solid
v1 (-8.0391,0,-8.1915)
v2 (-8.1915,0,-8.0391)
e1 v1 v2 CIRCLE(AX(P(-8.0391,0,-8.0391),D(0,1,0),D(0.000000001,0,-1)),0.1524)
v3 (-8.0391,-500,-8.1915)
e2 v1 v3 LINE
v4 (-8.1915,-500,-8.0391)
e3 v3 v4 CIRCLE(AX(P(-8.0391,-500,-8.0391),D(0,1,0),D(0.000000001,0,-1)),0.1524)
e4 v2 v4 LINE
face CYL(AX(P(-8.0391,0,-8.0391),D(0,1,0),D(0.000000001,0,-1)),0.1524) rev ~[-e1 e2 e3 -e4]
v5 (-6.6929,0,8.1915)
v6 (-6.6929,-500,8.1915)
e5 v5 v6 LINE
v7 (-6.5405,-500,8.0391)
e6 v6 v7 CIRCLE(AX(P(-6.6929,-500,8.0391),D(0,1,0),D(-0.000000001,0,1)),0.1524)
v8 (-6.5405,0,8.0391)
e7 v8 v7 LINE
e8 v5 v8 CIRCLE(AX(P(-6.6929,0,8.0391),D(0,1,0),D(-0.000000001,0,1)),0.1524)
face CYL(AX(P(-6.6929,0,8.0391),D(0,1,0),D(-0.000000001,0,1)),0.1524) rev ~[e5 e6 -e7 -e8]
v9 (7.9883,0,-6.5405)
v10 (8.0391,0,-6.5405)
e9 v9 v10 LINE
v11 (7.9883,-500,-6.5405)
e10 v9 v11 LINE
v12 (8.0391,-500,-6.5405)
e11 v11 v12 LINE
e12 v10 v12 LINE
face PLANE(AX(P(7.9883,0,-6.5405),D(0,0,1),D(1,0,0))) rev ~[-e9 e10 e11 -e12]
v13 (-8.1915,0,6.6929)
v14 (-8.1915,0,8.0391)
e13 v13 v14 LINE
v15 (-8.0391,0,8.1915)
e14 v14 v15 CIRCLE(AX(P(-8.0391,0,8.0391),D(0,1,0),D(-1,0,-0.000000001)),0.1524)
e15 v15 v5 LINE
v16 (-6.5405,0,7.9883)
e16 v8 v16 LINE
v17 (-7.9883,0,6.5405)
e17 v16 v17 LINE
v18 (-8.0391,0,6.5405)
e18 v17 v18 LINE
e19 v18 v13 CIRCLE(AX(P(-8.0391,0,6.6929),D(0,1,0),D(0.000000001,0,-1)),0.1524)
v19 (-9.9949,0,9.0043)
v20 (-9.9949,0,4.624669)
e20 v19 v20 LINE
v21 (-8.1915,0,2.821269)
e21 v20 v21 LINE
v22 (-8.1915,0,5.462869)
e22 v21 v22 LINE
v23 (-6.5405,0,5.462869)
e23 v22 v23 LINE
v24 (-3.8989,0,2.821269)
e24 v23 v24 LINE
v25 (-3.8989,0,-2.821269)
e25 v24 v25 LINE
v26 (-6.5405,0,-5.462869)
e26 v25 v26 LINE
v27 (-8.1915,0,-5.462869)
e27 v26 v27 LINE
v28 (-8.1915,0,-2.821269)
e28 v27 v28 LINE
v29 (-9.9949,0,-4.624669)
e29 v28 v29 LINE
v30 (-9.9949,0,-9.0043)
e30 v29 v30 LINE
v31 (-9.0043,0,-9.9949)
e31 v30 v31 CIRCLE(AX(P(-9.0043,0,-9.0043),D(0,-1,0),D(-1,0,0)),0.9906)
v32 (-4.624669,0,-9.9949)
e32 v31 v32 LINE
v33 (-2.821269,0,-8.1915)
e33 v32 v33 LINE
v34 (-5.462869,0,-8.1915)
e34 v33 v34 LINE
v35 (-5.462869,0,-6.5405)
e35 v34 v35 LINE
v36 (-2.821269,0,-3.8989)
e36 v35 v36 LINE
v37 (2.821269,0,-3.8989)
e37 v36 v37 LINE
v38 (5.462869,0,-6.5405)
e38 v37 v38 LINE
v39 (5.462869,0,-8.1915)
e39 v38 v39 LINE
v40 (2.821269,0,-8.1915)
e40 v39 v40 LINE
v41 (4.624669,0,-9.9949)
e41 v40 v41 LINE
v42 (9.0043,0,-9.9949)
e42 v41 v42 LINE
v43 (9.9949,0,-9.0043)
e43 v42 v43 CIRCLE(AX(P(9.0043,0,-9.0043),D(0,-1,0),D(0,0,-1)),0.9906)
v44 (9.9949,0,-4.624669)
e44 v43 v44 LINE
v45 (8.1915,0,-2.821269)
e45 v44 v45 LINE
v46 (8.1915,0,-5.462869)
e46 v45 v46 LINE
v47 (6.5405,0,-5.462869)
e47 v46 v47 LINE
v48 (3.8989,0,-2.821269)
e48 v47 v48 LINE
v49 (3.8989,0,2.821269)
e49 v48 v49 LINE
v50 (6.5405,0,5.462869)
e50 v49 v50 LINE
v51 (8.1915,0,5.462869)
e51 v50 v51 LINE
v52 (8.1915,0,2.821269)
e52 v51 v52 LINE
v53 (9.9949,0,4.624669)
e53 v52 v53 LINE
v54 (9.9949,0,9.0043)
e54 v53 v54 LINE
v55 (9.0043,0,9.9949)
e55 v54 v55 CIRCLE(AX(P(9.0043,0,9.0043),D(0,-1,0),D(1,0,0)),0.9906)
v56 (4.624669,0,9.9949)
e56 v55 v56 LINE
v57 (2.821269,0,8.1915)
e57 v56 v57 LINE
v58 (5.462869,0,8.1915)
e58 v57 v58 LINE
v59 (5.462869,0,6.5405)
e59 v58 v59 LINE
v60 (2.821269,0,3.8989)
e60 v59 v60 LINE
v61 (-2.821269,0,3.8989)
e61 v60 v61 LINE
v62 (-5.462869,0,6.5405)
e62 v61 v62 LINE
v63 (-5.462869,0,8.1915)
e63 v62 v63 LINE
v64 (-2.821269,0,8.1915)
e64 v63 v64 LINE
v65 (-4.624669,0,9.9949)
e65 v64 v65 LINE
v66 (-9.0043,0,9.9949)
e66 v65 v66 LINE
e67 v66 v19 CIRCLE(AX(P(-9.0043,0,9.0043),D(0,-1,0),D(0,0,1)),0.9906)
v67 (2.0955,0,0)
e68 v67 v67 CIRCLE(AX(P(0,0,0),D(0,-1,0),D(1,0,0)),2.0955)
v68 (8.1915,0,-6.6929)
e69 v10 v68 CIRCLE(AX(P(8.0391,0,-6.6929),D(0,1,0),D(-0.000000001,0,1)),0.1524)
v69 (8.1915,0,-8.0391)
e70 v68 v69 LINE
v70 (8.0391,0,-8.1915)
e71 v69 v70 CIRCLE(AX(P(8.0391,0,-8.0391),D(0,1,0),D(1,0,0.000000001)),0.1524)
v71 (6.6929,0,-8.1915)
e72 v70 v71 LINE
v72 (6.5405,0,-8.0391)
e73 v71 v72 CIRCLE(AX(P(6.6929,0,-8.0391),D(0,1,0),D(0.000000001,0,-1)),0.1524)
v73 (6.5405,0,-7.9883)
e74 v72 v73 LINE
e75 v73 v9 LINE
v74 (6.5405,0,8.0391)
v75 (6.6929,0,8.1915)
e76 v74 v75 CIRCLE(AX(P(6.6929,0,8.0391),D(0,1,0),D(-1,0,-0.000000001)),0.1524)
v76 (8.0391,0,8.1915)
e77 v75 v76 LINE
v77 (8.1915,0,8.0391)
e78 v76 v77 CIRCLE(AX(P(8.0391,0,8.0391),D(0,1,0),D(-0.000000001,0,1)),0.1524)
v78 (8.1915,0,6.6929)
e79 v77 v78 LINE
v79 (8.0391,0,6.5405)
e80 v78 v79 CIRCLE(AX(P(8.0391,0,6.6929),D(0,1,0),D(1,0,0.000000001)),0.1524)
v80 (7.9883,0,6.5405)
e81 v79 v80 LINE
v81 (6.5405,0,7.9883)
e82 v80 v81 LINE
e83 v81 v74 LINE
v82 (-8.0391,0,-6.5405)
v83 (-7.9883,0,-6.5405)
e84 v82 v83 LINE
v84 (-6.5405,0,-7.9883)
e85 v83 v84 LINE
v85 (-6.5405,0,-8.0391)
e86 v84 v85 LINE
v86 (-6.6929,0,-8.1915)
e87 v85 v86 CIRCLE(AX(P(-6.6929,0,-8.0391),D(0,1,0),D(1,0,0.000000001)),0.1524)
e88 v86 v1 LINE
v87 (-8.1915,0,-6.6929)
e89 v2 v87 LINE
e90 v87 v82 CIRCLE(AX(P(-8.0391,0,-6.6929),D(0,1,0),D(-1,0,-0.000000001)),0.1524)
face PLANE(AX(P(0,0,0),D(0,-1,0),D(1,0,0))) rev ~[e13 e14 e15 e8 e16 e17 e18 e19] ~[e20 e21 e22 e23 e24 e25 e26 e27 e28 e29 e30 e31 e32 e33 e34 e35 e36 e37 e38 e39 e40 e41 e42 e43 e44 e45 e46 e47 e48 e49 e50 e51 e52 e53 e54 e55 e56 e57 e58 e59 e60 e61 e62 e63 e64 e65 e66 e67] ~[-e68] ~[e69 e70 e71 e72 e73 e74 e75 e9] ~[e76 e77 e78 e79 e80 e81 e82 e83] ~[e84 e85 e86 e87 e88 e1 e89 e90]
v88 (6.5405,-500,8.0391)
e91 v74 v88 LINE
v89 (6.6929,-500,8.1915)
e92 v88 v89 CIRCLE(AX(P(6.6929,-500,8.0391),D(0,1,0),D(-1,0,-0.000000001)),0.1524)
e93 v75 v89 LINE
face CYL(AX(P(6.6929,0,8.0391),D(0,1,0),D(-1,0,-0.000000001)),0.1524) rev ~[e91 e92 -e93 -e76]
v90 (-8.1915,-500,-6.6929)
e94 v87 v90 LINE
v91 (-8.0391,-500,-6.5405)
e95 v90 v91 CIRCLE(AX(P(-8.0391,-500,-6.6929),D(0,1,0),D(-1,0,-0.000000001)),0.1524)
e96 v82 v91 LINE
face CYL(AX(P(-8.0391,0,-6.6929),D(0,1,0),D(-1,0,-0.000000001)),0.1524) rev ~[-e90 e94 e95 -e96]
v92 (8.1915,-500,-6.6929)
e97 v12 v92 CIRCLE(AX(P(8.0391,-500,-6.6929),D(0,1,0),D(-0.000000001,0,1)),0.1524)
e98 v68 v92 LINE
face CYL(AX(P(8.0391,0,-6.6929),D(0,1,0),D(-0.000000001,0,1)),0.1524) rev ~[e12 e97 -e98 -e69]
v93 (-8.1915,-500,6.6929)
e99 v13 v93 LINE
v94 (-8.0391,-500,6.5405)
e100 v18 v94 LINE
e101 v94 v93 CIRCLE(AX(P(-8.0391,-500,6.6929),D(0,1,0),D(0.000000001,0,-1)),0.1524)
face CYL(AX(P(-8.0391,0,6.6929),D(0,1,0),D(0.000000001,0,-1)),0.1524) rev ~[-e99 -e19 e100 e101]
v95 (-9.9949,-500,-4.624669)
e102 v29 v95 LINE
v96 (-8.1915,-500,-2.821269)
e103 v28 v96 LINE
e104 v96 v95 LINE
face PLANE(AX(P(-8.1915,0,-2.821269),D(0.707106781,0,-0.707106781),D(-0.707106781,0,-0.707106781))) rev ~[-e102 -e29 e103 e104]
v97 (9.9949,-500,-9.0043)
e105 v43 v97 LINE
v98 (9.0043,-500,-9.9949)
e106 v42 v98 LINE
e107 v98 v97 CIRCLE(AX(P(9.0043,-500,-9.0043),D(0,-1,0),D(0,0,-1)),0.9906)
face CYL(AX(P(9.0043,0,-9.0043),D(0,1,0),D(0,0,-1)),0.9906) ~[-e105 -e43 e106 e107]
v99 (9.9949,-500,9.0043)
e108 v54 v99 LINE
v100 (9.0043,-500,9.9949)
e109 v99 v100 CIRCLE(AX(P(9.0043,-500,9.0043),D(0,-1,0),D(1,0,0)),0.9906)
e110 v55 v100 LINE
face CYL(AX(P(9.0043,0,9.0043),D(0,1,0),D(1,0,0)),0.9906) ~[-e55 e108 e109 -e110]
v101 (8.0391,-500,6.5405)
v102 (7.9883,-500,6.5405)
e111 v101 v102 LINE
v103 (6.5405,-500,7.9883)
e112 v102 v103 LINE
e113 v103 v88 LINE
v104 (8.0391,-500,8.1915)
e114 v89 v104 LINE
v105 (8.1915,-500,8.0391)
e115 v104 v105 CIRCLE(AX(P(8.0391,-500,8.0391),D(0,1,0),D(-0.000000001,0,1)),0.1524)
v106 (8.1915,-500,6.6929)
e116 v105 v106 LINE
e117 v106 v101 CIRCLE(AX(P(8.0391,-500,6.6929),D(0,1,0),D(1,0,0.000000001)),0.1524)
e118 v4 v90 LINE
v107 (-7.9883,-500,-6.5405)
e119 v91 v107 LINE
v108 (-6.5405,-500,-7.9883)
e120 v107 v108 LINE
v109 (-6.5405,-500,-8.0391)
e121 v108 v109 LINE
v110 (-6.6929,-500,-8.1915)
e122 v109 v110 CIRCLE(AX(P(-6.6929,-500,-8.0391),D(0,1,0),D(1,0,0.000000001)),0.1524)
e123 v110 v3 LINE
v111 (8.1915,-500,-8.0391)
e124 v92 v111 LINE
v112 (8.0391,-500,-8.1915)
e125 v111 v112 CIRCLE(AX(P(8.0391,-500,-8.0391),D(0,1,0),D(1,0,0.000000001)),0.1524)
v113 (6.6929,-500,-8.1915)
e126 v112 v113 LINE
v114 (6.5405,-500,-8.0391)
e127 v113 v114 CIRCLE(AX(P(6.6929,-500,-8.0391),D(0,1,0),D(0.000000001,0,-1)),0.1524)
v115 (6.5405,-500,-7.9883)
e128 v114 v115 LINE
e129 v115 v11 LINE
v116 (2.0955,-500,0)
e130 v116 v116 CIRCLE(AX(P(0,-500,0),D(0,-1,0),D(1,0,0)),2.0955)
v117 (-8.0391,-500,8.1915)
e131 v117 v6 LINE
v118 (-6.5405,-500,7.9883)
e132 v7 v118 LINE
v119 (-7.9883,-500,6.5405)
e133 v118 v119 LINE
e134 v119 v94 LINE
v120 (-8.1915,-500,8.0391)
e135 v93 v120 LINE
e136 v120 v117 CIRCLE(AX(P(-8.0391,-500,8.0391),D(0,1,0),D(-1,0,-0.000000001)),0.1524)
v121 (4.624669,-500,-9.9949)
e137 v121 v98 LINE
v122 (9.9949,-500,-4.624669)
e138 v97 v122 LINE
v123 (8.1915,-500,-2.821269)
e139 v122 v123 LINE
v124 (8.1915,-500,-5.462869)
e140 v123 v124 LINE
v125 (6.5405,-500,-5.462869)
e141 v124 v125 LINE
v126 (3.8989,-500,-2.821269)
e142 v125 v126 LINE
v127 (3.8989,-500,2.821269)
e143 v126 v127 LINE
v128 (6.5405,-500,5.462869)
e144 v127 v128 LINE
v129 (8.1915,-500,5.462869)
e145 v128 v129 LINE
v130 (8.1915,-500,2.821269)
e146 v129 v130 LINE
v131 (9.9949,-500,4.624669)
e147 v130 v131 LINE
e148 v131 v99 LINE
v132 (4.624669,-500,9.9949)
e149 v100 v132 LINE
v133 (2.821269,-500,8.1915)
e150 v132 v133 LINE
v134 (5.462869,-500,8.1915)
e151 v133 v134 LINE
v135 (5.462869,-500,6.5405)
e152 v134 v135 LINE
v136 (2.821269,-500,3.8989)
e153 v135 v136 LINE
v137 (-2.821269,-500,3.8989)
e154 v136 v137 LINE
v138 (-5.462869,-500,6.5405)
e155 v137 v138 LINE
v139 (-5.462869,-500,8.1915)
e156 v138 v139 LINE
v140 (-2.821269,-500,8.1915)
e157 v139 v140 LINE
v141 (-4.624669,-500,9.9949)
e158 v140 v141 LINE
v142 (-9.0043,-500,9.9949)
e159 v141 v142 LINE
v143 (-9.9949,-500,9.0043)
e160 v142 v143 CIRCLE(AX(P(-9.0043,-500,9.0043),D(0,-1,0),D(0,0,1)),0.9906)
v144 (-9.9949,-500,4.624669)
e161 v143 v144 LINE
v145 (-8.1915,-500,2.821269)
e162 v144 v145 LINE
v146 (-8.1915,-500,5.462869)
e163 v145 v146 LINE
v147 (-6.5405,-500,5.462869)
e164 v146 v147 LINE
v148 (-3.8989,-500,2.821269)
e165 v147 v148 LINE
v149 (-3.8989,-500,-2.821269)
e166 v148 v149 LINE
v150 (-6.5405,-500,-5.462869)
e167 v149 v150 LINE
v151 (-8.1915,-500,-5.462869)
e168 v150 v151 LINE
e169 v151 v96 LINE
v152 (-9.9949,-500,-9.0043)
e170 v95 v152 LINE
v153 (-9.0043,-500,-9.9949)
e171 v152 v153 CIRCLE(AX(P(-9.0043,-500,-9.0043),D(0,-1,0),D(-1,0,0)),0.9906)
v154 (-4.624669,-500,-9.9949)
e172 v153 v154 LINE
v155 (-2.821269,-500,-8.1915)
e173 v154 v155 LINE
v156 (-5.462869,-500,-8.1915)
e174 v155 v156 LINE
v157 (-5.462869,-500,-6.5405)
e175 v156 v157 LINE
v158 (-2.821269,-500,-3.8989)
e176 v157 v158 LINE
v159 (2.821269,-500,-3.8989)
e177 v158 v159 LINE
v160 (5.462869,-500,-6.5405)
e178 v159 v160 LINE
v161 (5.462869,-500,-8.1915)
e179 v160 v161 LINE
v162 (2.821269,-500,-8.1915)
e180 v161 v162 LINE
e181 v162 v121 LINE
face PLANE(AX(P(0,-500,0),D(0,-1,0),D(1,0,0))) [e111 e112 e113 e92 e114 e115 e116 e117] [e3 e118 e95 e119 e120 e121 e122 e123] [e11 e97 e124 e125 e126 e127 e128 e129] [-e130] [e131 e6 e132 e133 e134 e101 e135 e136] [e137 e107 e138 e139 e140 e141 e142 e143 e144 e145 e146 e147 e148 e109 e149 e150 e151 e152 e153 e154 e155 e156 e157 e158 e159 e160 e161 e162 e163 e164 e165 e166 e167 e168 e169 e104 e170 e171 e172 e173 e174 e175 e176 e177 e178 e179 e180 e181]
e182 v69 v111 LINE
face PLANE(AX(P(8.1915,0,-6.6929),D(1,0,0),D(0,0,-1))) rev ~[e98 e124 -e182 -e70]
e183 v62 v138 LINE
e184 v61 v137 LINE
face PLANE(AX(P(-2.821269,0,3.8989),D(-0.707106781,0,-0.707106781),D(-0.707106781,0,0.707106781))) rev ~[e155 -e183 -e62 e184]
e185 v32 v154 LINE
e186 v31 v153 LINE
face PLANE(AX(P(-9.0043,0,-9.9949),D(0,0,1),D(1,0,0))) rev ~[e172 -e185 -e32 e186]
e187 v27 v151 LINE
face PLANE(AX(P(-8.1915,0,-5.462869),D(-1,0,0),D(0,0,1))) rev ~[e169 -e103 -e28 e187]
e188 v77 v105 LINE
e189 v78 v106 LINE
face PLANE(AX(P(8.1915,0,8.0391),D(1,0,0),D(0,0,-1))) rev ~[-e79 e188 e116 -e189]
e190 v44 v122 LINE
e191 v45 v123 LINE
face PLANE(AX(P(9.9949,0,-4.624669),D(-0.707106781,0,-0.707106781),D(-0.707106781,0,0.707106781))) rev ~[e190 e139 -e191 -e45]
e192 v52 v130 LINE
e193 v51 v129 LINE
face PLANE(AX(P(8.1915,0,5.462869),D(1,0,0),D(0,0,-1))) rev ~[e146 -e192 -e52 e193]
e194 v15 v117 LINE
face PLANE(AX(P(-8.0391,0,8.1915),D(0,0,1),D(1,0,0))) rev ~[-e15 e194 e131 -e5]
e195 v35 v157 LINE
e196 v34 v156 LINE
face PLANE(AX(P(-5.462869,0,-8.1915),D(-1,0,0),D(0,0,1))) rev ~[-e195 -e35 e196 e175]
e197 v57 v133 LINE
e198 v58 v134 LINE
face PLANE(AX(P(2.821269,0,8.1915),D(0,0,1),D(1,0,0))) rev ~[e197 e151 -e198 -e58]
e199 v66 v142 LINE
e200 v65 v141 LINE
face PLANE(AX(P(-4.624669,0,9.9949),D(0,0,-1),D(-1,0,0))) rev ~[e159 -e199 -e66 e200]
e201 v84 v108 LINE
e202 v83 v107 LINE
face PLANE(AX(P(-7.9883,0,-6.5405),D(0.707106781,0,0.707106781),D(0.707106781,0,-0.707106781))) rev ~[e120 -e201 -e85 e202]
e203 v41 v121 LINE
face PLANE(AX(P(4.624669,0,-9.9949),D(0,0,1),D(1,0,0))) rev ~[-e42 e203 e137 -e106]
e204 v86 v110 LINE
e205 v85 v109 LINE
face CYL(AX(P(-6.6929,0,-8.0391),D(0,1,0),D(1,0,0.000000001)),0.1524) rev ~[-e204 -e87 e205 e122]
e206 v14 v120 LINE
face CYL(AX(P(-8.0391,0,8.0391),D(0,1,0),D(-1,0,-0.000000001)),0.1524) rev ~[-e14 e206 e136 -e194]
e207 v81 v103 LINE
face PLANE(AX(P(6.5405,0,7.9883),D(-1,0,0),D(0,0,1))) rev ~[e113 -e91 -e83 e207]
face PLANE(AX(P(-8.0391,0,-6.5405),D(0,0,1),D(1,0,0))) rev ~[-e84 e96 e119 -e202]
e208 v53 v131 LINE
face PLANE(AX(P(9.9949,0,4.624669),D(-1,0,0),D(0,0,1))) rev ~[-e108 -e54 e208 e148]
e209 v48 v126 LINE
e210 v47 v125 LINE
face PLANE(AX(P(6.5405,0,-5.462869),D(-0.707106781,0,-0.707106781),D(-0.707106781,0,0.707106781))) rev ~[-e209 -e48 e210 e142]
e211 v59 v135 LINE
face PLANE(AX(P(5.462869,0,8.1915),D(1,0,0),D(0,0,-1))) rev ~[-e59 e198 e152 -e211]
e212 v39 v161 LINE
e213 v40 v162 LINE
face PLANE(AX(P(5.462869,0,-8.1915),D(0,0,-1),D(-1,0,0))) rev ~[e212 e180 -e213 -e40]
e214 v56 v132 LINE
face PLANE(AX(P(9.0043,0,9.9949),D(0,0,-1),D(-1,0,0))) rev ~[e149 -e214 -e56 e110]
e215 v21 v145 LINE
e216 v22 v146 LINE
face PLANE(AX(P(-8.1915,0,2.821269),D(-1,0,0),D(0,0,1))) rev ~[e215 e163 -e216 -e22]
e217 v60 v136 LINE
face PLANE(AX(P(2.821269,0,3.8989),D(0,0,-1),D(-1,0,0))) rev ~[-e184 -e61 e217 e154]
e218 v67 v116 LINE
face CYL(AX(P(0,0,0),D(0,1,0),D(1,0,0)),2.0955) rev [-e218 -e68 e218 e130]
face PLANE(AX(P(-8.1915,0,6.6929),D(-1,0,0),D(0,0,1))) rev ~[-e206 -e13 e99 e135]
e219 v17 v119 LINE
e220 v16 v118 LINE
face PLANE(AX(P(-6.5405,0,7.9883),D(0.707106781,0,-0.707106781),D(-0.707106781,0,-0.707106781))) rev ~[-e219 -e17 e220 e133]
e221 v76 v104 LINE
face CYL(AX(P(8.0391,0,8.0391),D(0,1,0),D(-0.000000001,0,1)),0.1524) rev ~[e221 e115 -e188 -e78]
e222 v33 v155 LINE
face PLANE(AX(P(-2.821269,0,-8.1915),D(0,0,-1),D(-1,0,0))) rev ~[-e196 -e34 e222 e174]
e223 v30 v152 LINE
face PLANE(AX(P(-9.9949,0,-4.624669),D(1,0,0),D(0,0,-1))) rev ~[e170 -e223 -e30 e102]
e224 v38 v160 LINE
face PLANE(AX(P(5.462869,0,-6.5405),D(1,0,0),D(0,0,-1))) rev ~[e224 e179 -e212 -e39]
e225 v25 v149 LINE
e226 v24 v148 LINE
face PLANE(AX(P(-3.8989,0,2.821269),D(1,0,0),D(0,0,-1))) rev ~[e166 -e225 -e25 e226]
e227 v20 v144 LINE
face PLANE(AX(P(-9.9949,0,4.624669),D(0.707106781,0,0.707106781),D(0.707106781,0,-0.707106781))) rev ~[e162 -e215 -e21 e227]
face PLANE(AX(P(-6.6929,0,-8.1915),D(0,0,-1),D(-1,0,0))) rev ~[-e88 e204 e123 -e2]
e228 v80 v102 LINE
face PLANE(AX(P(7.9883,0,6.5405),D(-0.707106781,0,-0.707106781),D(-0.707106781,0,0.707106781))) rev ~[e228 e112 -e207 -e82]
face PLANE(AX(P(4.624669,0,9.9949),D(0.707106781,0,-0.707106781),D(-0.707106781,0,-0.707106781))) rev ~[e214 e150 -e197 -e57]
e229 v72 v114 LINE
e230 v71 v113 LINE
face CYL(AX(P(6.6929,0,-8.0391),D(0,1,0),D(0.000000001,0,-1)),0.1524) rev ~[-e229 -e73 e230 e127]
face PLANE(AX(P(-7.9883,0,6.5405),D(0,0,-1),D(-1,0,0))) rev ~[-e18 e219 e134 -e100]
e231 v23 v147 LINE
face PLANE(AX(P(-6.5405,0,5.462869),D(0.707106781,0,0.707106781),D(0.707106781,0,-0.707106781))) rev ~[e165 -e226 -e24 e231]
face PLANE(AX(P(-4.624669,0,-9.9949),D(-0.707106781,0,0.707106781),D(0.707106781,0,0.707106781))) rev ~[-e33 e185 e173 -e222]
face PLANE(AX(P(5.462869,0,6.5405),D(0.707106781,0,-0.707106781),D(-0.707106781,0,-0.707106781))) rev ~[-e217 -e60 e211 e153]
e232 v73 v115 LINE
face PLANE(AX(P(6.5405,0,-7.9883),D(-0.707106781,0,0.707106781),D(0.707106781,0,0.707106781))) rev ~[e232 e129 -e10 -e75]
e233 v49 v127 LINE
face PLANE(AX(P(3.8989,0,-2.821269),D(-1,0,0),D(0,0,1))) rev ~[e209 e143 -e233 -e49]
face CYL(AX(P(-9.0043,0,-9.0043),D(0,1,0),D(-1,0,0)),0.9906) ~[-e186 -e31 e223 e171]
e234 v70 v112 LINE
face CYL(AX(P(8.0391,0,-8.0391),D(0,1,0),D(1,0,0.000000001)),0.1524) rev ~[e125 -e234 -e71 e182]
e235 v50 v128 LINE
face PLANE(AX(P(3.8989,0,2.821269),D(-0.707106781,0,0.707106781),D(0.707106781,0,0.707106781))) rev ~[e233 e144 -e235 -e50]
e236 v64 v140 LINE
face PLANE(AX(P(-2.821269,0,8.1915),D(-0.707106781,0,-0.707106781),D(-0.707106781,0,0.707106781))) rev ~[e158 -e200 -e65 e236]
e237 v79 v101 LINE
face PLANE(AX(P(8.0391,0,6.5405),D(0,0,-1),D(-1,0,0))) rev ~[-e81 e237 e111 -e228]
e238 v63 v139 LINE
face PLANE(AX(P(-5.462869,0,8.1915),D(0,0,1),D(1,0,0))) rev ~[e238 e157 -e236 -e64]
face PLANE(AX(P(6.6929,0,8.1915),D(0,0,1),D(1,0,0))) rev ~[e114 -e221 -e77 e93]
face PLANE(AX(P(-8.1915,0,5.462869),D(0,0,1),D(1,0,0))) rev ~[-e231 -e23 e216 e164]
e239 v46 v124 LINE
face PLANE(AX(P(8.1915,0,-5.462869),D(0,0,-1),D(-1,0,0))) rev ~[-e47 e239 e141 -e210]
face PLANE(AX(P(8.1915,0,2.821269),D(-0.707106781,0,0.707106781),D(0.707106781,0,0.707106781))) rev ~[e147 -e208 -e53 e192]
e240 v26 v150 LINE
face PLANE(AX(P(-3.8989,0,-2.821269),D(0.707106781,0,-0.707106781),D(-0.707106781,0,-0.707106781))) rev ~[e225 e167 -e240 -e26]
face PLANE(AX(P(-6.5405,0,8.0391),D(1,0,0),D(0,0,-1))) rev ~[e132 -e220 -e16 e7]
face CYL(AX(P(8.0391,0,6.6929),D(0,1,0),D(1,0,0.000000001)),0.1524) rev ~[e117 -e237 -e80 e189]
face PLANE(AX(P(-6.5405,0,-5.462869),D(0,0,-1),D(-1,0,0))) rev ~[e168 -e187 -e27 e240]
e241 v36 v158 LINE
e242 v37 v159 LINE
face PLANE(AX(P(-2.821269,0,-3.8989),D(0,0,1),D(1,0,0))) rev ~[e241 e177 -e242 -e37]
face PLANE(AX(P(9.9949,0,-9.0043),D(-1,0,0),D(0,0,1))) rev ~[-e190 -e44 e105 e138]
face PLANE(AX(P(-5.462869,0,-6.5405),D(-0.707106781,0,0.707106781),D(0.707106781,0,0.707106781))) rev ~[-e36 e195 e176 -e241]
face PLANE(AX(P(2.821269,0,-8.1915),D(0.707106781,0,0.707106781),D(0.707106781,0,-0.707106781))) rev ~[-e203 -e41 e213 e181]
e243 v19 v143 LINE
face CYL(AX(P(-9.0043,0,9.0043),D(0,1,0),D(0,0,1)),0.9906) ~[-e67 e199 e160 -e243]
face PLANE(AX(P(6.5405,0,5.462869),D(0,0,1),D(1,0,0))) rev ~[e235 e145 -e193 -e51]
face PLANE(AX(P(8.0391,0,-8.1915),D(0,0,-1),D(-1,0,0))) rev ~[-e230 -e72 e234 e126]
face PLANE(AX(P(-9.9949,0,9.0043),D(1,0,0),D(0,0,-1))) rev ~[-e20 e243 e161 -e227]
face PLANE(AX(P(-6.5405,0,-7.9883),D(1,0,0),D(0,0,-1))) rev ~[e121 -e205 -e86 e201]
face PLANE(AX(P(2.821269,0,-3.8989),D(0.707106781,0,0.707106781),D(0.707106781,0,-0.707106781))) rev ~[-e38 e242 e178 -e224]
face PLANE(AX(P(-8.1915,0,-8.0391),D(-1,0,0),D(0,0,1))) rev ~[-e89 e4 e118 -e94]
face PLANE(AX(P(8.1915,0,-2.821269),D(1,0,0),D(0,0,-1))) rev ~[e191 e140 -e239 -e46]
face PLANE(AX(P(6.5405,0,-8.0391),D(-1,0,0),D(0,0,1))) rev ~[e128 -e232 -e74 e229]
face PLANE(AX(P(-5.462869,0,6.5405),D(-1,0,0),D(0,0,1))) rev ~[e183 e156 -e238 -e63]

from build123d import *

# Parameters (mm, degrees)
F0_R     = 2.0955
F2_DEPTH = 500


with BuildPart() as f2:
    # F0 (on Front) → F2 (new body)
    with BuildSketch(Plane.XZ):
        with BuildLine():
            Line((-4.6246692655, 9.9949), (-9.0043, 9.9949))
            ThreePointArc((-9.0043, 9.9949), (-9.7047599774, 9.7047599774), (-9.9949, 9.0043))
            Line((-9.9949, 9.0043), (-9.9949, 4.6246692655))
            Line((-9.9949, 4.6246692655), (-8.1915, 2.8212692655))
            Line((-8.1915, 2.8212692655), (-8.1915, 5.4628692655))
            Line((-8.1915, 5.4628692655), (-6.5405, 5.4628692655))
            Line((-6.5405, 5.4628692655), (-3.8989, 2.8212692655))
            Line((-3.8989, 2.8212692655), (-3.8989, -2.8212692655))
            Line((-3.8989, -2.8212692655), (-6.5405, -5.4628692655))
            Line((-6.5405, -5.4628692655), (-8.1915, -5.4628692655))
            Line((-8.1915, -5.4628692655), (-8.1915, -2.8212692655))
            Line((-8.1915, -2.8212692655), (-9.9949, -4.6246692655))
            Line((-9.9949, -4.6246692655), (-9.9949, -9.0043))
            ThreePointArc((-9.9949, -9.0043), (-9.7047599774, -9.7047599774), (-9.0043, -9.9949))
            Line((-9.0043, -9.9949), (-4.6246692655, -9.9949))
            Line((-4.6246692655, -9.9949), (-2.8212692655, -8.1915))
            Line((-2.8212692655, -8.1915), (-5.4628692655, -8.1915))
            Line((-5.4628692655, -8.1915), (-5.4628692655, -6.5405))
            Line((-5.4628692655, -6.5405), (-2.8212692655, -3.8989))
            Line((-2.8212692655, -3.8989), (2.8212692655, -3.8989))
            Line((2.8212692655, -3.8989), (5.4628692655, -6.5405))
            Line((5.4628692655, -6.5405), (5.4628692655, -8.1915))
            Line((5.4628692655, -8.1915), (2.8212692655, -8.1915))
            Line((2.8212692655, -8.1915), (4.6246692655, -9.9949))
            Line((4.6246692655, -9.9949), (9.0043, -9.9949))
            ThreePointArc((9.0043, -9.9949), (9.7047599774, -9.7047599774), (9.9949, -9.0043))
            Line((9.9949, -9.0043), (9.9949, -4.6246692655))
            Line((9.9949, -4.6246692655), (8.1915, -2.8212692655))
            Line((8.1915, -2.8212692655), (8.1915, -5.4628692655))
            Line((8.1915, -5.4628692655), (6.5405, -5.4628692655))
            Line((6.5405, -5.4628692655), (3.8989, -2.8212692655))
            Line((3.8989, -2.8212692655), (3.8989, 2.8212692655))
            Line((3.8989, 2.8212692655), (6.5405, 5.4628692655))
            Line((6.5405, 5.4628692655), (8.1915, 5.4628692655))
            Line((8.1915, 5.4628692655), (8.1915, 2.8212692655))
            Line((8.1915, 2.8212692655), (9.9949, 4.6246692655))
            Line((9.9949, 4.6246692655), (9.9949, 9.0043))
            ThreePointArc((9.9949, 9.0043), (9.7047599774, 9.7047599774), (9.0043, 9.9949))
            Line((9.0043, 9.9949), (4.6246692655, 9.9949))
            Line((4.6246692655, 9.9949), (2.8212692655, 8.1915))
            Line((2.8212692655, 8.1915), (5.4628692655, 8.1915))
            Line((5.4628692655, 8.1915), (5.4628692655, 6.5405))
            Line((5.4628692655, 6.5405), (2.8212692655, 3.8989))
            Line((2.8212692655, 3.8989), (-2.8212692655, 3.8989))
            Line((-2.8212692655, 3.8989), (-5.4628692655, 6.5405))
            Line((-5.4628692655, 6.5405), (-5.4628692655, 8.1915))
            Line((-5.4628692655, 8.1915), (-2.8212692655, 8.1915))
            Line((-2.8212692655, 8.1915), (-4.6246692655, 9.9949))
        make_face()
        with BuildLine():
            ThreePointArc((-8.0391, -8.1915), (-8.1468630735, -8.1468630735), (-8.1915, -8.0391))
            Line((-8.1915, -8.0391), (-8.1915, -6.6929))
            ThreePointArc((-8.1915, -6.6929), (-8.1468630735, -6.5851369265), (-8.0391, -6.5405))
            Line((-8.0391, -6.5405), (-7.9883, -6.5405))
            Line((-7.9883, -6.5405), (-6.5405, -7.9883))
            Line((-6.5405, -7.9883), (-6.5405, -8.0391))
            ThreePointArc((-6.5405, -8.0391), (-6.5851369265, -8.1468630735), (-6.6929, -8.1915))
            Line((-6.6929, -8.1915), (-8.0391, -8.1915))
        make_face(mode=Mode.SUBTRACT)
        with BuildLine():
            Line((8.1915, -6.6929), (8.1915, -8.0391))
            ThreePointArc((8.1915, -8.0391), (8.1468630735, -8.1468630735), (8.0391, -8.1915))
            Line((8.0391, -8.1915), (6.6929, -8.1915))
            ThreePointArc((6.6929, -8.1915), (6.5851369265, -8.1468630735), (6.5405, -8.0391))
            Line((6.5405, -8.0391), (6.5405, -7.9883))
            Line((6.5405, -7.9883), (7.9883, -6.5405))
            Line((7.9883, -6.5405), (8.0391, -6.5405))
            ThreePointArc((8.0391, -6.5405), (8.1468630735, -6.5851369265), (8.1915, -6.6929))
        make_face(mode=Mode.SUBTRACT)
        with BuildLine():
            Line((-7.9883, 6.5405), (-8.0391, 6.5405))
            ThreePointArc((-8.0391, 6.5405), (-8.1468630735, 6.5851369265), (-8.1915, 6.6929))
            Line((-8.1915, 6.6929), (-8.1915, 8.0391))
            ThreePointArc((-8.1915, 8.0391), (-8.1468630735, 8.1468630735), (-8.0391, 8.1915))
            Line((-8.0391, 8.1915), (-6.6929, 8.1915))
            ThreePointArc((-6.6929, 8.1915), (-6.5851369265, 8.1468630735), (-6.5405, 8.0391))
            Line((-6.5405, 8.0391), (-6.5405, 7.9883))
            Line((-6.5405, 7.9883), (-7.9883, 6.5405))
        make_face(mode=Mode.SUBTRACT)
        Circle(F0_R, mode=Mode.SUBTRACT)
        with BuildLine():
            ThreePointArc((8.1915, 6.6929), (8.1468630735, 6.5851369265), (8.0391, 6.5405))
            Line((8.0391, 6.5405), (7.9883, 6.5405))
            Line((7.9883, 6.5405), (6.5405, 7.9883))
            Line((6.5405, 7.9883), (6.5405, 8.0391))
            ThreePointArc((6.5405, 8.0391), (6.5851369265, 8.1468630735), (6.6929, 8.1915))
            Line((6.6929, 8.1915), (8.0391, 8.1915))
            ThreePointArc((8.0391, 8.1915), (8.1468630735, 8.1468630735), (8.1915, 8.0391))
            Line((8.1915, 8.0391), (8.1915, 6.6929))
        make_face(mode=Mode.SUBTRACT)
    extrude(amount=F2_DEPTH)


solid = f2.part
